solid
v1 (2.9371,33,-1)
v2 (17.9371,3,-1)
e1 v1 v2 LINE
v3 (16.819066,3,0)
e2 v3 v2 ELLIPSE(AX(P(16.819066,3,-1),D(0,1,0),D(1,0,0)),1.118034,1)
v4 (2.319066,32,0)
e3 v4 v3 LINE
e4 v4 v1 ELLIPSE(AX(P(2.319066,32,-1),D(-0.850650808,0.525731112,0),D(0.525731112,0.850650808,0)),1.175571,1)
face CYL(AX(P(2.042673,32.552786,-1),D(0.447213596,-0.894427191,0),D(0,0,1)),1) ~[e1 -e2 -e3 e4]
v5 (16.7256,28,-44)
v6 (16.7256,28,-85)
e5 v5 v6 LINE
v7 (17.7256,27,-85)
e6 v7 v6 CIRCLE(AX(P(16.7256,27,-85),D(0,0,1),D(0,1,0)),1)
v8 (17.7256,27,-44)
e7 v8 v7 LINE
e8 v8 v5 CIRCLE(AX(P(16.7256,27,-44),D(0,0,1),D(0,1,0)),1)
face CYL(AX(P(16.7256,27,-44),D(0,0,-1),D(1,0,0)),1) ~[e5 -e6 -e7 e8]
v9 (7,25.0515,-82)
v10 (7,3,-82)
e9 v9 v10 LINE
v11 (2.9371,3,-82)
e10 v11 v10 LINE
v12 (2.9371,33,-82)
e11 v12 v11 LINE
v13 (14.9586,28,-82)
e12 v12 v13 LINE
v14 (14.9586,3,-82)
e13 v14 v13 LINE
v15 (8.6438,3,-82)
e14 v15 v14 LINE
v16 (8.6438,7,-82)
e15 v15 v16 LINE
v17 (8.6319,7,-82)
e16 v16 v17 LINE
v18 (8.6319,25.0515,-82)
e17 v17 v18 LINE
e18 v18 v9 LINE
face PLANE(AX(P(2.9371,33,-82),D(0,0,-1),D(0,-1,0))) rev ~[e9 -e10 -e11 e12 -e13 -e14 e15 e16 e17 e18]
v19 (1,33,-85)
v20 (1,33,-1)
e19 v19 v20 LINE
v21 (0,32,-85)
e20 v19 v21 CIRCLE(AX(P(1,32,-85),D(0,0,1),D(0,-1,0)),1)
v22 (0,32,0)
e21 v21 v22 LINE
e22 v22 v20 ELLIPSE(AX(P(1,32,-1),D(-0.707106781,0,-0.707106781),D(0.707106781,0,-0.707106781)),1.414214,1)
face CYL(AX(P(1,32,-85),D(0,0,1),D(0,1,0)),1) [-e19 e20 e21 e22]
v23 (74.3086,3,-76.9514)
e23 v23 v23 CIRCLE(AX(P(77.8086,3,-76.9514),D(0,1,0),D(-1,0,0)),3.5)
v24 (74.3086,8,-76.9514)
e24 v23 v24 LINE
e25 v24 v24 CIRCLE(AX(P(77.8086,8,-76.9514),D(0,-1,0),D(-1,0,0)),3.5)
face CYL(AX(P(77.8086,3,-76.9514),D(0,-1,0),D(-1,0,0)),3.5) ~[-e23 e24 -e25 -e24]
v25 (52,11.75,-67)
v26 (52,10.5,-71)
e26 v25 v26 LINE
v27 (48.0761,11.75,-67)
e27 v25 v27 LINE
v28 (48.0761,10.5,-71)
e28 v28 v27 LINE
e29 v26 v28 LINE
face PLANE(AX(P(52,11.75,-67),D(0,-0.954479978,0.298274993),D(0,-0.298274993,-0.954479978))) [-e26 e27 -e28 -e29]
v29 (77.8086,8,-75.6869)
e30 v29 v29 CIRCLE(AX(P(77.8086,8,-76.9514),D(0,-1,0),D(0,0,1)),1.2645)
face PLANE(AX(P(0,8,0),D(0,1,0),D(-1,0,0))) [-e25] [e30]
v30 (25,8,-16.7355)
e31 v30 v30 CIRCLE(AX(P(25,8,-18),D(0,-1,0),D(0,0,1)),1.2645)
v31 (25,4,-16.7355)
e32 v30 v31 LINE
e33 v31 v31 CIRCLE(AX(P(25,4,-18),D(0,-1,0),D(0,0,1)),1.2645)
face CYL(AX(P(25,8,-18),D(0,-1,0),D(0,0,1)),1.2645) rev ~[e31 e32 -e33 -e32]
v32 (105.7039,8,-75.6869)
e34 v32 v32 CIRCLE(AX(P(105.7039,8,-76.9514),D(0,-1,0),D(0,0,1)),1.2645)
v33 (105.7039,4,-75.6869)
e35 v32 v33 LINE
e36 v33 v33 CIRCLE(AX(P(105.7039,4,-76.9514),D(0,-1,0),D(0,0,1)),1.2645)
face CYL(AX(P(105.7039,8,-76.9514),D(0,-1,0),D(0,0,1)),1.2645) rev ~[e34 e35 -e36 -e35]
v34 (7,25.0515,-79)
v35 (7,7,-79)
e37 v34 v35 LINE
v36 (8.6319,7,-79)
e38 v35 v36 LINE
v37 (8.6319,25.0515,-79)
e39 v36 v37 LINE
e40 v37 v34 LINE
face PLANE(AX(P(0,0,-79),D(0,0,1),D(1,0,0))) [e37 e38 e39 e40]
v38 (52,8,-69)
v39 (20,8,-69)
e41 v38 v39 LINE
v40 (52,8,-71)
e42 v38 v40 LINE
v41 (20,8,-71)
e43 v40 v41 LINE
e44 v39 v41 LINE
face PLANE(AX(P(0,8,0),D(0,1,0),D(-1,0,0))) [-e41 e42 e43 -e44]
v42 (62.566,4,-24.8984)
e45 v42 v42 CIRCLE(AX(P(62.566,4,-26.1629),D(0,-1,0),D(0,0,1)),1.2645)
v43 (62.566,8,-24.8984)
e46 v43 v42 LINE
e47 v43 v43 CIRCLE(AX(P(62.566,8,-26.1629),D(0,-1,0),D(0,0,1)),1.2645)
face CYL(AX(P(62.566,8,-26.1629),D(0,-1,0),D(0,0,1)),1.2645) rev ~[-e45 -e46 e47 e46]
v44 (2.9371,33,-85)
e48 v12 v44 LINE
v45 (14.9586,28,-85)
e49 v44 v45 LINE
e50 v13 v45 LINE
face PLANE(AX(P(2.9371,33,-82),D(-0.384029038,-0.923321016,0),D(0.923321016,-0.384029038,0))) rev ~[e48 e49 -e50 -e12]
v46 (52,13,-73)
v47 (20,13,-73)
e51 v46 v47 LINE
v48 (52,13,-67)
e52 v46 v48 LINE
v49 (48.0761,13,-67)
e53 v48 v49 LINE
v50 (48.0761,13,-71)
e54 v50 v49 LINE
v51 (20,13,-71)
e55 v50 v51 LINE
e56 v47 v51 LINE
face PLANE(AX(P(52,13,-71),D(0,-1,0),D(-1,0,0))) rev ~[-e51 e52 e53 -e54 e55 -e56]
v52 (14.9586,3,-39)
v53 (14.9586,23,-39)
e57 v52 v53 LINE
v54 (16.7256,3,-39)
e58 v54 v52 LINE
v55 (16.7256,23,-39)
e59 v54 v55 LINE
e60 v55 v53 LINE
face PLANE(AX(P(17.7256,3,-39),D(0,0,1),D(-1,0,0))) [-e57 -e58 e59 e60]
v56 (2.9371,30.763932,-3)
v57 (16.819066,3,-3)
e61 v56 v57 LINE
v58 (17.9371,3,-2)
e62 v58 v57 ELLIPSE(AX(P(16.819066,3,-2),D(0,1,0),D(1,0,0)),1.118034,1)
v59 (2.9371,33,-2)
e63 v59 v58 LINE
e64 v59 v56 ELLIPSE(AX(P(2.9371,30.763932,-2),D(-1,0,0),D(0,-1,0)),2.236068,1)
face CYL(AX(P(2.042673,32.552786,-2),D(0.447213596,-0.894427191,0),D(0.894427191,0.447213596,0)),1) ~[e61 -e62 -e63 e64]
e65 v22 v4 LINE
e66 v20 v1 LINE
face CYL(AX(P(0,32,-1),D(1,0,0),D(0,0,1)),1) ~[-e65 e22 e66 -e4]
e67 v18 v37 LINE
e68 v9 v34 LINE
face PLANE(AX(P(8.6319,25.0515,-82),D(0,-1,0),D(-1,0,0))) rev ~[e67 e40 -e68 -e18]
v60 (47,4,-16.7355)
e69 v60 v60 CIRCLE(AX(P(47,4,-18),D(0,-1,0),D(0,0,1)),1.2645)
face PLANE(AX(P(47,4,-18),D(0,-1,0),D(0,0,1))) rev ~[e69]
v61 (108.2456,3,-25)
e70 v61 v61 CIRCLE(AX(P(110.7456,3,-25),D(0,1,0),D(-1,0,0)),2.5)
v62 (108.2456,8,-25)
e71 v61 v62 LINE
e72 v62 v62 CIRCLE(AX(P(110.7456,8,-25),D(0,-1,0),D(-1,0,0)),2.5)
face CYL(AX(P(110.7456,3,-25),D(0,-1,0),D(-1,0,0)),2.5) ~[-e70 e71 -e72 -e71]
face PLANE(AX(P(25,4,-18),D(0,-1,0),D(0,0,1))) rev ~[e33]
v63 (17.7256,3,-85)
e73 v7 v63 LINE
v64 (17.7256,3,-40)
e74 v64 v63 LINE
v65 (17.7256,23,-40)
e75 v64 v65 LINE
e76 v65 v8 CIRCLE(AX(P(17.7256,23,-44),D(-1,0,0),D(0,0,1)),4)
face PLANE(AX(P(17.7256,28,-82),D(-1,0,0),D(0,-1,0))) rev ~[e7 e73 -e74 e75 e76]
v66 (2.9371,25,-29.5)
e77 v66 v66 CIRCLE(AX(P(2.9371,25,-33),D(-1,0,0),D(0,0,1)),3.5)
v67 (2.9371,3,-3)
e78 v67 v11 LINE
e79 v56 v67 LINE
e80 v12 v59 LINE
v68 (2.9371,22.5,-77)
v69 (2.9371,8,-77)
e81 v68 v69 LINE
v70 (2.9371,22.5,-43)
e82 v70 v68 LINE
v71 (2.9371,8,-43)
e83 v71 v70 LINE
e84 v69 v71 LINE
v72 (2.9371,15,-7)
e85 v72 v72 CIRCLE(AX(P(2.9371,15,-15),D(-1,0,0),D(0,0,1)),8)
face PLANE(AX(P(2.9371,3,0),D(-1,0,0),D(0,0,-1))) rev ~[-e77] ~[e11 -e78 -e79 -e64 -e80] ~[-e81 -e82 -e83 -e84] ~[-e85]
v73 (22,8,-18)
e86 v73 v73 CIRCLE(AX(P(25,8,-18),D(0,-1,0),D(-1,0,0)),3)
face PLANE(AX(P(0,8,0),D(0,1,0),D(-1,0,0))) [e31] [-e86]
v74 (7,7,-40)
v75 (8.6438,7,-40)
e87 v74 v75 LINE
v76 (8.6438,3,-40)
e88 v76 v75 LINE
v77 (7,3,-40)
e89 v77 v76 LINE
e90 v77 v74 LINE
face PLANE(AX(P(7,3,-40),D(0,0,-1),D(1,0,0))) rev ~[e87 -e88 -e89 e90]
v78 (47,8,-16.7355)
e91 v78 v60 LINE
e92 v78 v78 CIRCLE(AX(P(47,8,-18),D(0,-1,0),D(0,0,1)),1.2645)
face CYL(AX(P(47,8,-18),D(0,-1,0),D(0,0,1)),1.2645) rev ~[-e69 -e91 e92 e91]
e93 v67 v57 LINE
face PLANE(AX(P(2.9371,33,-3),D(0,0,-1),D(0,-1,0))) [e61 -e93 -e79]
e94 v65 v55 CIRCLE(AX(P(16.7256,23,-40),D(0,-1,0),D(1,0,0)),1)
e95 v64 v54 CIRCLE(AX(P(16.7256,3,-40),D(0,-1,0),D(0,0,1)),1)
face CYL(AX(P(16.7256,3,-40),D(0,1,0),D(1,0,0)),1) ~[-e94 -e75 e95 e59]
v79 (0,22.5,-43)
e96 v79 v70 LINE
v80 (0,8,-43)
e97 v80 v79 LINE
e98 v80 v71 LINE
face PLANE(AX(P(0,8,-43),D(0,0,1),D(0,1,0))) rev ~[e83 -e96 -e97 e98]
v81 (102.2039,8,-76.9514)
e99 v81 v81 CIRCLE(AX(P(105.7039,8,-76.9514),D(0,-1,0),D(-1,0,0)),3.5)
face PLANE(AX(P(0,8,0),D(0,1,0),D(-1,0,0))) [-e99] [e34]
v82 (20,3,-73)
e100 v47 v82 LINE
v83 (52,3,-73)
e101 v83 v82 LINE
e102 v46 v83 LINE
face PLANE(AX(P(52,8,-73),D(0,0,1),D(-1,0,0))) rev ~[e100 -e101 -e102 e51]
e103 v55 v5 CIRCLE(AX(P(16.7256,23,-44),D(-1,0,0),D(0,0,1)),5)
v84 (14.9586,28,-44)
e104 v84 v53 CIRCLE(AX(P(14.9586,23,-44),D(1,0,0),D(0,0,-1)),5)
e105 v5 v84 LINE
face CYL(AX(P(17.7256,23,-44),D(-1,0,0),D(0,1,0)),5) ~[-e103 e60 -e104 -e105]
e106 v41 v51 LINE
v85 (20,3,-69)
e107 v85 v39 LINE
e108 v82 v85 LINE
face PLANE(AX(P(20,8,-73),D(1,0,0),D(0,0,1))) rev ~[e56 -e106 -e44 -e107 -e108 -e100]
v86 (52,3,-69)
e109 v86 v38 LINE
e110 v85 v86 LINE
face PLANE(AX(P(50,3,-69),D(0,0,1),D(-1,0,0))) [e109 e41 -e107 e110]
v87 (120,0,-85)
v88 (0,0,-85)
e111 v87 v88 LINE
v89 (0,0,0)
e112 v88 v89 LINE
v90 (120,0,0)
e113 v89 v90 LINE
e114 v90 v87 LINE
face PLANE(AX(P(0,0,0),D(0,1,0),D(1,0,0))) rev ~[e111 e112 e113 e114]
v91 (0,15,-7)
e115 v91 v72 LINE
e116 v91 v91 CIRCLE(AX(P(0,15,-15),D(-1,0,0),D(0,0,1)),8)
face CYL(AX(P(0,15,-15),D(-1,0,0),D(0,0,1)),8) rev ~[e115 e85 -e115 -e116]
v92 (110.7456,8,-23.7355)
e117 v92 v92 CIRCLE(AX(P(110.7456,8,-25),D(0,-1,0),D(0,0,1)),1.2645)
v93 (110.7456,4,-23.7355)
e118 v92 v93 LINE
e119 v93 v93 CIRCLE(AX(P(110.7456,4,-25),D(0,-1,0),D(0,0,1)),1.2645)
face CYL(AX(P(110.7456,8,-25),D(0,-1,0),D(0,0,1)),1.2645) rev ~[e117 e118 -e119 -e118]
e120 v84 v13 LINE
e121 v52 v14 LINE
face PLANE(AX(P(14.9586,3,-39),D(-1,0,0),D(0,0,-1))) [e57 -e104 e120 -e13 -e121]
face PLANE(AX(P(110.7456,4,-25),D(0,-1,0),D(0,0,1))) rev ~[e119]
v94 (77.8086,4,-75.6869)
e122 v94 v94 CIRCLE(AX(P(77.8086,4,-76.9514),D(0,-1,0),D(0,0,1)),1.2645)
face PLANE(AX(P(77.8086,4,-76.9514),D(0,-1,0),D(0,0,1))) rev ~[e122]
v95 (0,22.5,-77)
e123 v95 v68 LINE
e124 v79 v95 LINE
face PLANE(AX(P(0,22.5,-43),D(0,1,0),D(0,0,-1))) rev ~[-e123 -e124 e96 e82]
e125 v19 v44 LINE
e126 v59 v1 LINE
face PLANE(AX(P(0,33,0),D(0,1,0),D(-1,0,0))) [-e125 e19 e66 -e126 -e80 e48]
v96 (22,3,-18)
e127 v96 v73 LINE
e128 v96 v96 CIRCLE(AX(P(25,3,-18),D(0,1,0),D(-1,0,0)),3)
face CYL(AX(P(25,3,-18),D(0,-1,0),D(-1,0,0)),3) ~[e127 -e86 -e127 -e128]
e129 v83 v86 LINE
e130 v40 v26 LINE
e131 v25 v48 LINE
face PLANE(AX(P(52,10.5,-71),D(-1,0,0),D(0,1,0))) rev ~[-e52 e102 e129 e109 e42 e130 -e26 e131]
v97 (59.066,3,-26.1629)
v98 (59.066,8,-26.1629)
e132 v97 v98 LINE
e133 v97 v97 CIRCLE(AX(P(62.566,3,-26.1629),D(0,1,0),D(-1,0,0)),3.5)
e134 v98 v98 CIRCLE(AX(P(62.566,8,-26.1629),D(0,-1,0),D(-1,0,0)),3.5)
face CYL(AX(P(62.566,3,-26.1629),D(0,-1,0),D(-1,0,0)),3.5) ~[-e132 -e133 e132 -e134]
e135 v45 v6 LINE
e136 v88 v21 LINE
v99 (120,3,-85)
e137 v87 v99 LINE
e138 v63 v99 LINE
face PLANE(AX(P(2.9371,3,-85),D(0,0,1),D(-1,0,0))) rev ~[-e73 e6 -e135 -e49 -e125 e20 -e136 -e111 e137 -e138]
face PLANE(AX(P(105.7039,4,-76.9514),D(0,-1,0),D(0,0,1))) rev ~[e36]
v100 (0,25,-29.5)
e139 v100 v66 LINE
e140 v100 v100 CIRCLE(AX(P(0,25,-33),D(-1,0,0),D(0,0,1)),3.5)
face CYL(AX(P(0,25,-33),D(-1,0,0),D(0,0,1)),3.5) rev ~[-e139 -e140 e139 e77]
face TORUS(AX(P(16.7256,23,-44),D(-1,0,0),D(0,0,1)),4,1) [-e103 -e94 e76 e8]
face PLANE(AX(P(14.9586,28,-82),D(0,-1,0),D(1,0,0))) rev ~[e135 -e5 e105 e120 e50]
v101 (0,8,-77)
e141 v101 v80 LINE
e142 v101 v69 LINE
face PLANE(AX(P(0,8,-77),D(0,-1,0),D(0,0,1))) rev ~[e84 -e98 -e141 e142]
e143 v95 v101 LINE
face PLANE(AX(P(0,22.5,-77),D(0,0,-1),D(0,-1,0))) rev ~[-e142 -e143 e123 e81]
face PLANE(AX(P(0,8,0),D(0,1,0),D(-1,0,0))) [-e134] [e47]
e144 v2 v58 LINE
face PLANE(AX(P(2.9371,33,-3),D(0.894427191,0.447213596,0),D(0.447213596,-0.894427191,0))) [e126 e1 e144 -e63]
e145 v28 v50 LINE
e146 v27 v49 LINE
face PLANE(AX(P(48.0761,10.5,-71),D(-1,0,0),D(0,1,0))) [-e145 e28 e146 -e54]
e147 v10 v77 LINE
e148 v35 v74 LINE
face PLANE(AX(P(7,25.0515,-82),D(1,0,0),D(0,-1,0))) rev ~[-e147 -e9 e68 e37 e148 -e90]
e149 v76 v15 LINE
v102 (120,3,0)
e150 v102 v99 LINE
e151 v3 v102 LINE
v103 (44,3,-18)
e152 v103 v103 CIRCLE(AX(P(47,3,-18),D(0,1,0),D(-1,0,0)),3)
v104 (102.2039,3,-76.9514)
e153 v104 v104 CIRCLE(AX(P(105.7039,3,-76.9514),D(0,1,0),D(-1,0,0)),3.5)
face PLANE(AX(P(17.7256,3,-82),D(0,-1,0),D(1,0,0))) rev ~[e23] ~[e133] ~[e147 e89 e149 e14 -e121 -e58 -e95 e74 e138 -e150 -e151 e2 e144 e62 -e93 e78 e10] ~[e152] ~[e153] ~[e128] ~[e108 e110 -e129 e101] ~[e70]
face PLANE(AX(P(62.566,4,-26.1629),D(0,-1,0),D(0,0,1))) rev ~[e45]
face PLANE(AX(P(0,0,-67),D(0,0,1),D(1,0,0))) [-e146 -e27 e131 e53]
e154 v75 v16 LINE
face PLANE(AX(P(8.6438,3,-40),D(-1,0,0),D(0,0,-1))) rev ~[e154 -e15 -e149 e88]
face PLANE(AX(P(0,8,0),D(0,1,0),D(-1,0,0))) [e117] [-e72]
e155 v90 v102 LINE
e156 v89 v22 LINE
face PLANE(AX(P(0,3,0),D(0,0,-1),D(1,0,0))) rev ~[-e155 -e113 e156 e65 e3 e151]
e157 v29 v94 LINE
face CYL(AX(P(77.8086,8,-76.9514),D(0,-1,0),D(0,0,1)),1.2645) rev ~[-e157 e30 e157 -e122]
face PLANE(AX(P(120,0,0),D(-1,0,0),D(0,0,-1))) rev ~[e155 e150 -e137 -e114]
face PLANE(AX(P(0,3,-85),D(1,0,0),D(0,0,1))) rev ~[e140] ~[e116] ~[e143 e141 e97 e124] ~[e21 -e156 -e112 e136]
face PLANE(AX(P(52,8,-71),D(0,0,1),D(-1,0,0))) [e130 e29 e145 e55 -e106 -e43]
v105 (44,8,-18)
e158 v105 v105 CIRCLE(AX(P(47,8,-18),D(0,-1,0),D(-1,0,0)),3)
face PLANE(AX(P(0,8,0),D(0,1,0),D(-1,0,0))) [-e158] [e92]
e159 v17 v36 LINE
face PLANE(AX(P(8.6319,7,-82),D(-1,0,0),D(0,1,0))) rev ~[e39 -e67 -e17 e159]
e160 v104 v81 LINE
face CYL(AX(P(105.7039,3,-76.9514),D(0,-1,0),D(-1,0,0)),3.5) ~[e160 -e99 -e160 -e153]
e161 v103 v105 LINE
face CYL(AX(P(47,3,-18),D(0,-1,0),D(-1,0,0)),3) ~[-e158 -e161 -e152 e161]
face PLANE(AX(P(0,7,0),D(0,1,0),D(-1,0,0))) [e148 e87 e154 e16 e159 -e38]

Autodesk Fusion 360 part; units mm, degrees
sketch "Sketch1" plane through (0, 0, 0) normal (0, 1, 0) x (1, 0, 0)
  line L0 (0, 0) -> (120, 0)
  line L1 (120, 0) -> (120, 85)
  line L2 (120, 85) -> (0, 85)
  line L3 (0, 85) -> (0, 0)
extrude "Extrude1" add sketch "Sketch1" along normal blind 3
sketch "Sketch2" plane through (0, 3, 0) normal (0, 1, 0) x (-1, 0, 0)
  line L0 (0, -85) -> (0, 0)
  line L1 (0, 0) -> (-120, 0)
  line L2 (-120, 0) -> (-120, -85)
  line L3 (-120, -85) -> (0, -85)
  line L4 (-60, -85) -> (-60, 0)
  line L5 (-60, -76.9514) -> (-120, -76.9514)
  line L6 (-77.8086, -80) -> (-77.8086, -73)
  circle A0 centre (-77.8086, -76.9514) radius 3.5
  circle A1 centre (-105.7039, -76.9514) radius 3.5
  dimension "d3" = 7
  dimension "d4" = 7
sketch "Sketch3" plane through (0, 3, 0) normal (0, 1, 0) x (-1, 0, 0)
  line L0 (-60, -10.9513) -> (-119.9962, -10.9513)
  line L1 (-60, -85) -> (-60, 0)
  line L2 (-60, -26.1629) -> (-72, -26.1629)
  line L3 (-62.566, -28.9848) -> (-62.566, -23)
  circle A0 centre (-62.566, -26.1629) radius 3.5
  line L4 (-107.0217, -24.9659) -> (-120.1868, -24.9659)
  line L5 (-110.7456, -28) -> (-110.7456, -22)
  circle A1 centre (-110.7456, -25) radius 2.5
  line L6 (-55, 0) -> (-55.9638, 0)
  line L7 (-55.9638, 0) -> (-55.9638, -85)
  line L8 (-55.9638, -85) -> (-55, -85)
  line L9 (-55, -85) -> (-55, 0)
  line L10 (0, 0) -> (-120, 0)
  line L11 (-120, -85) -> (0, -85)
  dimension "d5" = 7
  dimension "d6" = 5
extrude "Extrude2" add sketch "Sketch2" sketch "Sketch3" along normal blind 5 contours L5 A0 | L5 L6 A0 | L5 A1 | L5 A1 | L5 L6 A0 of sketch 2 contours L1 A0 | L1 L2 A0 | L1 L2 A0 | L4 L5 A1 | L4 L5 A1 | L4 L5 A1 | L4 L5 A1
hole "Hole1" at (77.8086, 8, -76.9514) direction (0, -1, 0) diameter 2.529 depth 4 tip angle 180
hole "Hole2" at (105.7039, 8, -76.9514) direction (0, -1, 0) diameter 2.529 depth 4 tip angle 180
hole "Hole3" at (62.566, 8, -26.1629) direction (0, -1, 0) diameter 2.529 depth 4 tip angle 180
hole "Hole4" at (110.7456, 8, -25) direction (0, -1, 0) diameter 2.529 depth 4 tip angle 180
sketch "Sketch4" plane through (0, 3, 0) normal (0, 1, 0) x (-1, 0, 0)
  circle A0 centre (-62.566, -26.1629) radius 3.5
  circle A1 centre (-105.7039, -76.9514) radius 3.5
  circle A2 centre (-77.8086, -76.9514) radius 3.5
  circle A3 centre (-110.7456, -25) radius 2.5
  line L0 (0, -85) -> (0, 0)
  line L1 (0, 0) -> (-120, 0)
  line L2 (-120, 0) -> (-120, -85)
  line L3 (-120, -85) -> (0, -85)
  line L4 (-50, -15) -> (-22, -15)
  line L5 (-22, -15) -> (-22, -70)
  line L6 (-22, -70) -> (-50, -70)
  line L7 (-50, -70) -> (-50, -15)
  line L8 (-22, -18) -> (-50, -18)
  circle A4 centre (-25, -18) radius 3
  circle A5 centre (-47, -18) radius 3
  line L9 (-20, -70) -> (-52, -70)
  line L10 (-52, -70) -> (-52, -69)
  line L11 (-52, -69) -> (-20, -69)
  line L12 (-20, -69) -> (-20, -70)
  dimension "d21" = 6
  dimension "d22" = 6
extrude "Extrude3" add sketch "Sketch4" along normal blind 5 contours L8 A5 | L8 A5 | L8 A4 | L5 L6 L7 L9 L11 | L7 L9 L10 L11 | L8 A4 | L5 L9 L11 L12
hole "Hole5" at (25, 8, -18) direction (0, -1, 0) diameter 2.529 depth 4 tip angle 180
hole "Hole6" at (47, 8, -18) direction (0, -1, 0) diameter 2.529 depth 4 tip angle 180
sketch "Sketch5" plane through (0, 3, 0) normal (0, 1, 0) x (-1, 0, 0)
  circle A0 centre (-47, -18) radius 3
  circle A1 centre (-25, -18) radius 3
  line L0 (-20, -69) -> (-20, -70)
  line L1 (-20, -70) -> (-52, -70)
  line L2 (-52, -70) -> (-52, -69)
  line L3 (-52, -69) -> (-20, -69)
  circle A2 centre (-62.566, -26.1629) radius 3.5
  circle A3 centre (-105.7039, -76.9514) radius 3.5
  circle A4 centre (-77.8086, -76.9514) radius 3.5
  circle A5 centre (-110.7456, -25) radius 2.5
  line L4 (0, -85) -> (0, 0)
  line L5 (0, 0) -> (-120, 0)
  line L6 (-120, 0) -> (-120, -85)
  line L7 (-120, -85) -> (0, -85)
  line L8 (-20, -70) -> (-52, -70)
  line L9 (-52, -70) -> (-52, -73)
  line L10 (-52, -73) -> (-20, -73)
  line L11 (-20, -73) -> (-20, -70)
extrude "Extrude4" add sketch "Sketch5" along normal blind 5 contours L1 L8 L9 L10 L11
sketch "Sketch6" plane through (0, 8, 0) normal (0, 1, 0) x (-1, 0, 0)
  line L0 (-20, -69) -> (-52, -69)
  line L1 (-52, -69) -> (-52, -73)
  line L2 (-52, -73) -> (-20, -73)
  line L3 (-20, -73) -> (-20, -69)
  line L4 (-20, -73) -> (-52, -73)
  line L5 (-52, -73) -> (-52, -71)
  line L6 (-52, -71) -> (-20, -71)
  line L7 (-20, -71) -> (-20, -73)
extrude "Extrude5" add sketch "Sketch6" along normal blind 5 contours L1 L2 L3 L4 L5 L6 L7
sketch "Sketch7" plane through (0, 0, -71) normal (0, 0, 1) x (1, 0, 0)
  line L0 (20, 8) -> (52, 8)
  line L1 (52, 8) -> (52, 13)
  line L2 (52, 13) -> (20, 13)
  line L3 (20, 13) -> (20, 8)
  line L4 (48.0761, 13) -> (52, 13)
  line L5 (52, 13) -> (52, 10.5)
  line L6 (52, 10.5) -> (48.0761, 10.5)
  line L7 (48.0761, 10.5) -> (48.0761, 13)
extrude "Extrude6" add sketch "Sketch7" along normal blind 4 contours L1 L2 L4 L5 L6 L7
sketch "Sketch8" plane through (52, 0, 0) normal (1, 0, 0) x (0, 0, -1)
  line L0 (69, 3) -> (73, 3)
  line L1 (73, 3) -> (73, 13)
  line L2 (73, 13) -> (67, 13)
  line L3 (67, 13) -> (67, 10.5)
  line L4 (67, 10.5) -> (71, 10.5)
  line L5 (71, 10.5) -> (71, 8)
  line L6 (71, 8) -> (69, 8)
  line L7 (69, 8) -> (69, 3)
  line L8 (67, 11.75) -> (71, 10.5)
extrude "Extrude7" cut sketch "Sketch8" against normal blind 4 contours L3 L4 L8
sketch "Sketch9" plane through (0, 3, 0) normal (0, 1, 0) x (-1, 0, 0)
  line L0 (-52, -73) -> (-52, -69)
  line L1 (-52, -69) -> (-20, -69)
  line L2 (-20, -69) -> (-20, -73)
  line L3 (-20, -73) -> (-52, -73)
  circle A0 centre (-47, -18) radius 3
  circle A1 centre (-25, -18) radius 3
  circle A2 centre (-62.566, -26.1629) radius 3.5
  circle A3 centre (-105.7039, -76.9514) radius 3.5
  circle A4 centre (-77.8086, -76.9514) radius 3.5
  circle A5 centre (-110.7456, -25) radius 2.5
  line L4 (0, -85) -> (0, 0)
  line L5 (0, 0) -> (-120, 0)
  line L6 (-120, 0) -> (-120, -85)
  line L7 (-120, -85) -> (0, -85)
  line L8 (0, 0) -> (-2.9371, 0)
  line L9 (-2.9371, 0) -> (-2.9371, -85)
  line L10 (-2.9371, -85) -> (0, -85)
  line L11 (0, -85) -> (0, 0)
  line L12 (0, 0) -> (-3, 0)
  line L13 (-3, 0) -> (-3, -85)
  line L14 (-3, -85) -> (0, -85)
  line L15 (0, -85) -> (0, 0)
  dimension "d39" = 3
extrude "Extrude8" add sketch "Sketch9" along normal blind 30 contours L4 L5 L7 L8 L9 L10 L11 L12 L14 L15
sketch "Sketch10" plane through (2.9371, 0, 0) normal (1, 0, 0) x (0, 0, -1)
  line L0 (0, 3) -> (85, 3)
  line L1 (85, 3) -> (85, 33)
  line L2 (85, 33) -> (0, 33)
  line L3 (0, 33) -> (0, 3)
  line L4 (0, 33) -> (3, 33)
  line L5 (3, 33) -> (3, 3)
  line L6 (3, 3) -> (0, 3)
  line L7 (0, 3) -> (0, 33)
  line L8 (85, 33) -> (82, 33)
  line L9 (82, 33) -> (82, 3)
  line L10 (82, 3) -> (85, 3)
  line L11 (85, 3) -> (85, 33)
  dimension "d42" = 3
  dimension "d43" = 3
extrude "Extrude9" add sketch "Sketch10" along normal blind 15 contours L0 L2 L3 L4 L5 L6 L7 | L0 L1 L2 L8 L9 L10 L11
sketch "Sketch11" plane through (0, 0, -3) normal (0, 0, -1) x (-1, 0, 0)
  line L0 (-2.9371, 3) -> (-2.9371, 33)
  line L1 (-2.9371, 33) -> (-17.9371, 33)
  line L2 (-17.9371, 33) -> (-17.9371, 3)
  line L3 (-17.9371, 3) -> (-2.9371, 3)
  line L4 (-2.9371, 33) -> (-17.9371, 3)
extrude "Extrude10" cut sketch "Sketch11" against normal blind 4 contours L1 L2 L4
sketch "Sketch13" plane through (0, 3, 0) normal (0, 1, 0) x (-1, 0, 0)
  line L0 (-17.9371, -82) -> (-2.9371, -82)
  line L1 (-2.9371, -82) -> (-2.9371, -3)
  line L2 (-2.9371, -3) -> (-17.9371, -3)
  line L3 (-17.9371, -3) -> (-17.9371, 0)
  line L4 (-17.9371, 0) -> (-120, 0)
  line L5 (-120, 0) -> (-120, -85)
  line L6 (-120, -85) -> (-17.9371, -85)
  line L7 (-52, -73) -> (-52, -69)
  line L8 (-52, -69) -> (-20, -69)
  line L9 (-20, -69) -> (-20, -73)
  line L10 (-20, -73) -> (-52, -73)
  circle A0 centre (-47, -18) radius 3
  circle A1 centre (-25, -18) radius 3
  circle A2 centre (-62.566, -26.1629) radius 3.5
  circle A3 centre (-105.7039, -76.9514) radius 3.5
  circle A4 centre (-77.8086, -76.9514) radius 3.5
  circle A5 centre (-110.7456, -25) radius 2.5
  line L11 (-14.9586, -82) -> (-17.7256, -82)
  line L12 (-17.7256, -82) -> (-17.7256, -39)
  line L13 (-17.7256, -39) -> (-14.9586, -39)
  line L14 (-14.9586, -39) -> (-14.9586, -82)
  line L15 (-17.9371, -85) -> (-17.9371, -82)
extrude "Extrude12" add sketch "Sketch13" along normal blind 25 contours L0 L11 L12 L13 L14
sketch "Sketch14" plane through (0, 0, -82) normal (0, 0, 1) x (1, 0, 0)
  line L0 (17.7256, 28) -> (17.7256, 3)
  line L1 (17.7256, 3) -> (17.9371, 3)
  line L2 (17.9371, 3) -> (17.9371, 33)
  line L3 (17.9371, 33) -> (2.9371, 33)
  line L4 (2.9371, 33) -> (2.9371, 3)
  line L5 (2.9371, 3) -> (14.9586, 3)
  line L6 (14.9586, 3) -> (14.9586, 28)
  line L7 (14.9586, 28) -> (17.7256, 28)
  line L8 (2.9371, 33) -> (14.9586, 28)
extrude "Extrude13" cut sketch "Sketch14" against normal blind 4 contours L0 L1 L2 L3 L7 L8
sketch "Sketch15" plane through (0, 0, 0) normal (-1, 0, 0) x (0, 0, 1)
  line L0 (-85, 0) -> (0, 0)
  line L1 (0, 0) -> (0, 33)
  line L2 (0, 33) -> (-85, 33)
  line L3 (-85, 33) -> (-85, 0)
  line L4 (-77, 8) -> (-43, 8)
  line L5 (-43, 8) -> (-43, 22.5)
  line L6 (-43, 22.5) -> (-77, 22.5)
  line L7 (-77, 22.5) -> (-77, 8)
  dimension "d54" = 34
  dimension "d55" = 14.5
extrude "Extrude14" cut sketch "Sketch15" against normal blind 5 contours L4 L5 L6 L7
sketch "Sketch16" plane through (0, 0, 0) normal (-1, 0, 0) x (0, 0, 1)
  line L0 (-43, 8) -> (-77, 8)
  line L1 (-77, 8) -> (-77, 22.5)
  line L2 (-77, 22.5) -> (-43, 22.5)
  line L3 (-43, 22.5) -> (-43, 8)
  line L4 (-85, 0) -> (0, 0)
  line L5 (0, 0) -> (0, 33)
  line L6 (0, 33) -> (-85, 33)
  line L7 (-85, 33) -> (-85, 0)
  circle A0 centre (-15, 15) radius 8
  circle A1 centre (-33, 25) radius 3.5
  dimension "d58" = 16
  dimension "d59" = 7
extrude "Extrude15" cut sketch "Sketch16" against normal blind 4 contours A0 | A1
fillet "Fillet1" radius 5 1 edges at (16.3421, 28, -39)
fillet "Fillet2" radius 1 4 edges at (1.4685, 33, 0) (10.4371, 18, 0) (10.4371, 18, -3) (0, 33, -42.5)
fillet "Fillet3" radius 1 3 edges at (17.7256, 13, -39) (17.7256, 26.5355, -40.4645) (17.7256, 28, -64.5)
sketch "Sketch17" plane through (0, 3, 0) normal (0, 1, 0) x (-1, 0, 0)
  circle A0 centre (-110.7456, -25) radius 2.5
  circle A1 centre (-77.8086, -76.9514) radius 3.5
  circle A2 centre (-105.7039, -76.9514) radius 3.5
  circle A3 centre (-62.566, -26.1629) radius 3.5
  circle A4 centre (-25, -18) radius 3
  circle A5 centre (-47, -18) radius 3
  line L0 (-52, -73) -> (-52, -69)
  line L1 (-52, -69) -> (-20, -69)
  line L2 (-20, -69) -> (-20, -73)
  line L3 (-20, -73) -> (-52, -73)
  line L4 (-16.7256, -39) -> (-14.9586, -39)
  line L5 (-14.9586, -39) -> (-14.9586, -82)
  line L6 (-14.9586, -82) -> (-2.9371, -82)
  line L7 (-2.9371, -82) -> (-2.9371, -3)
  line L8 (-2.9371, -3) -> (-16.8191, -3)
  ellipse E0 centre (-16.8191, -2) end of major axis (-17.9371, -2) minor radius 1 (-17.9371, -2) -> (-16.8191, -3) ccw
  line L9 (-17.9371, -2) -> (-17.9371, -1)
  ellipse E1 centre (-16.8191, -1) end of major axis (-17.9371, -1) minor radius 1 (-16.8191, 0) -> (-17.9371, -1) ccw
  line L10 (-16.8191, 0) -> (-120, 0)
  line L11 (-120, 0) -> (-120, -85)
  line L12 (-120, -85) -> (-17.7256, -85)
  line L13 (-17.7256, -85) -> (-17.7256, -40)
  arc A6 (-16.7256, -39) -> (-17.7256, -40) centre (-16.7256, -40) ccw
  line L14 (-8.6438, -82) -> (-7, -82)
  line L15 (-7, -82) -> (-7, -40)
  line L16 (-7, -40) -> (-8.6438, -40)
  line L17 (-8.6438, -40) -> (-8.6438, -82)
extrude "Extrude16" add sketch "Sketch17" along normal blind 4 contours L6 L14 L15 L16 L17
sketch "Sketch18" plane through (0, 0, -82) normal (0, 0, 1) x (1, 0, 0)
  line L0 (8.6438, 7) -> (8.6438, 3)
  line L1 (8.6438, 3) -> (14.9586, 3)
  line L2 (14.9586, 3) -> (14.9586, 28)
  line L3 (14.9586, 28) -> (2.9371, 33)
  line L4 (2.9371, 33) -> (2.9371, 3)
  line L5 (2.9371, 3) -> (7, 3)
  line L6 (7, 3) -> (7, 7)
  line L7 (7, 7) -> (8.6438, 7)
  line L8 (7, 7) -> (8.6319, 7)
  line L9 (8.6319, 7) -> (8.6319, 25.0515)
  line L10 (8.6319, 25.0515) -> (7, 25.0515)
  line L11 (7, 25.0515) -> (7, 7)
extrude "Extrude17" add sketch "Sketch18" along normal blind 3 contours L7 L8 L9 L10 L11
